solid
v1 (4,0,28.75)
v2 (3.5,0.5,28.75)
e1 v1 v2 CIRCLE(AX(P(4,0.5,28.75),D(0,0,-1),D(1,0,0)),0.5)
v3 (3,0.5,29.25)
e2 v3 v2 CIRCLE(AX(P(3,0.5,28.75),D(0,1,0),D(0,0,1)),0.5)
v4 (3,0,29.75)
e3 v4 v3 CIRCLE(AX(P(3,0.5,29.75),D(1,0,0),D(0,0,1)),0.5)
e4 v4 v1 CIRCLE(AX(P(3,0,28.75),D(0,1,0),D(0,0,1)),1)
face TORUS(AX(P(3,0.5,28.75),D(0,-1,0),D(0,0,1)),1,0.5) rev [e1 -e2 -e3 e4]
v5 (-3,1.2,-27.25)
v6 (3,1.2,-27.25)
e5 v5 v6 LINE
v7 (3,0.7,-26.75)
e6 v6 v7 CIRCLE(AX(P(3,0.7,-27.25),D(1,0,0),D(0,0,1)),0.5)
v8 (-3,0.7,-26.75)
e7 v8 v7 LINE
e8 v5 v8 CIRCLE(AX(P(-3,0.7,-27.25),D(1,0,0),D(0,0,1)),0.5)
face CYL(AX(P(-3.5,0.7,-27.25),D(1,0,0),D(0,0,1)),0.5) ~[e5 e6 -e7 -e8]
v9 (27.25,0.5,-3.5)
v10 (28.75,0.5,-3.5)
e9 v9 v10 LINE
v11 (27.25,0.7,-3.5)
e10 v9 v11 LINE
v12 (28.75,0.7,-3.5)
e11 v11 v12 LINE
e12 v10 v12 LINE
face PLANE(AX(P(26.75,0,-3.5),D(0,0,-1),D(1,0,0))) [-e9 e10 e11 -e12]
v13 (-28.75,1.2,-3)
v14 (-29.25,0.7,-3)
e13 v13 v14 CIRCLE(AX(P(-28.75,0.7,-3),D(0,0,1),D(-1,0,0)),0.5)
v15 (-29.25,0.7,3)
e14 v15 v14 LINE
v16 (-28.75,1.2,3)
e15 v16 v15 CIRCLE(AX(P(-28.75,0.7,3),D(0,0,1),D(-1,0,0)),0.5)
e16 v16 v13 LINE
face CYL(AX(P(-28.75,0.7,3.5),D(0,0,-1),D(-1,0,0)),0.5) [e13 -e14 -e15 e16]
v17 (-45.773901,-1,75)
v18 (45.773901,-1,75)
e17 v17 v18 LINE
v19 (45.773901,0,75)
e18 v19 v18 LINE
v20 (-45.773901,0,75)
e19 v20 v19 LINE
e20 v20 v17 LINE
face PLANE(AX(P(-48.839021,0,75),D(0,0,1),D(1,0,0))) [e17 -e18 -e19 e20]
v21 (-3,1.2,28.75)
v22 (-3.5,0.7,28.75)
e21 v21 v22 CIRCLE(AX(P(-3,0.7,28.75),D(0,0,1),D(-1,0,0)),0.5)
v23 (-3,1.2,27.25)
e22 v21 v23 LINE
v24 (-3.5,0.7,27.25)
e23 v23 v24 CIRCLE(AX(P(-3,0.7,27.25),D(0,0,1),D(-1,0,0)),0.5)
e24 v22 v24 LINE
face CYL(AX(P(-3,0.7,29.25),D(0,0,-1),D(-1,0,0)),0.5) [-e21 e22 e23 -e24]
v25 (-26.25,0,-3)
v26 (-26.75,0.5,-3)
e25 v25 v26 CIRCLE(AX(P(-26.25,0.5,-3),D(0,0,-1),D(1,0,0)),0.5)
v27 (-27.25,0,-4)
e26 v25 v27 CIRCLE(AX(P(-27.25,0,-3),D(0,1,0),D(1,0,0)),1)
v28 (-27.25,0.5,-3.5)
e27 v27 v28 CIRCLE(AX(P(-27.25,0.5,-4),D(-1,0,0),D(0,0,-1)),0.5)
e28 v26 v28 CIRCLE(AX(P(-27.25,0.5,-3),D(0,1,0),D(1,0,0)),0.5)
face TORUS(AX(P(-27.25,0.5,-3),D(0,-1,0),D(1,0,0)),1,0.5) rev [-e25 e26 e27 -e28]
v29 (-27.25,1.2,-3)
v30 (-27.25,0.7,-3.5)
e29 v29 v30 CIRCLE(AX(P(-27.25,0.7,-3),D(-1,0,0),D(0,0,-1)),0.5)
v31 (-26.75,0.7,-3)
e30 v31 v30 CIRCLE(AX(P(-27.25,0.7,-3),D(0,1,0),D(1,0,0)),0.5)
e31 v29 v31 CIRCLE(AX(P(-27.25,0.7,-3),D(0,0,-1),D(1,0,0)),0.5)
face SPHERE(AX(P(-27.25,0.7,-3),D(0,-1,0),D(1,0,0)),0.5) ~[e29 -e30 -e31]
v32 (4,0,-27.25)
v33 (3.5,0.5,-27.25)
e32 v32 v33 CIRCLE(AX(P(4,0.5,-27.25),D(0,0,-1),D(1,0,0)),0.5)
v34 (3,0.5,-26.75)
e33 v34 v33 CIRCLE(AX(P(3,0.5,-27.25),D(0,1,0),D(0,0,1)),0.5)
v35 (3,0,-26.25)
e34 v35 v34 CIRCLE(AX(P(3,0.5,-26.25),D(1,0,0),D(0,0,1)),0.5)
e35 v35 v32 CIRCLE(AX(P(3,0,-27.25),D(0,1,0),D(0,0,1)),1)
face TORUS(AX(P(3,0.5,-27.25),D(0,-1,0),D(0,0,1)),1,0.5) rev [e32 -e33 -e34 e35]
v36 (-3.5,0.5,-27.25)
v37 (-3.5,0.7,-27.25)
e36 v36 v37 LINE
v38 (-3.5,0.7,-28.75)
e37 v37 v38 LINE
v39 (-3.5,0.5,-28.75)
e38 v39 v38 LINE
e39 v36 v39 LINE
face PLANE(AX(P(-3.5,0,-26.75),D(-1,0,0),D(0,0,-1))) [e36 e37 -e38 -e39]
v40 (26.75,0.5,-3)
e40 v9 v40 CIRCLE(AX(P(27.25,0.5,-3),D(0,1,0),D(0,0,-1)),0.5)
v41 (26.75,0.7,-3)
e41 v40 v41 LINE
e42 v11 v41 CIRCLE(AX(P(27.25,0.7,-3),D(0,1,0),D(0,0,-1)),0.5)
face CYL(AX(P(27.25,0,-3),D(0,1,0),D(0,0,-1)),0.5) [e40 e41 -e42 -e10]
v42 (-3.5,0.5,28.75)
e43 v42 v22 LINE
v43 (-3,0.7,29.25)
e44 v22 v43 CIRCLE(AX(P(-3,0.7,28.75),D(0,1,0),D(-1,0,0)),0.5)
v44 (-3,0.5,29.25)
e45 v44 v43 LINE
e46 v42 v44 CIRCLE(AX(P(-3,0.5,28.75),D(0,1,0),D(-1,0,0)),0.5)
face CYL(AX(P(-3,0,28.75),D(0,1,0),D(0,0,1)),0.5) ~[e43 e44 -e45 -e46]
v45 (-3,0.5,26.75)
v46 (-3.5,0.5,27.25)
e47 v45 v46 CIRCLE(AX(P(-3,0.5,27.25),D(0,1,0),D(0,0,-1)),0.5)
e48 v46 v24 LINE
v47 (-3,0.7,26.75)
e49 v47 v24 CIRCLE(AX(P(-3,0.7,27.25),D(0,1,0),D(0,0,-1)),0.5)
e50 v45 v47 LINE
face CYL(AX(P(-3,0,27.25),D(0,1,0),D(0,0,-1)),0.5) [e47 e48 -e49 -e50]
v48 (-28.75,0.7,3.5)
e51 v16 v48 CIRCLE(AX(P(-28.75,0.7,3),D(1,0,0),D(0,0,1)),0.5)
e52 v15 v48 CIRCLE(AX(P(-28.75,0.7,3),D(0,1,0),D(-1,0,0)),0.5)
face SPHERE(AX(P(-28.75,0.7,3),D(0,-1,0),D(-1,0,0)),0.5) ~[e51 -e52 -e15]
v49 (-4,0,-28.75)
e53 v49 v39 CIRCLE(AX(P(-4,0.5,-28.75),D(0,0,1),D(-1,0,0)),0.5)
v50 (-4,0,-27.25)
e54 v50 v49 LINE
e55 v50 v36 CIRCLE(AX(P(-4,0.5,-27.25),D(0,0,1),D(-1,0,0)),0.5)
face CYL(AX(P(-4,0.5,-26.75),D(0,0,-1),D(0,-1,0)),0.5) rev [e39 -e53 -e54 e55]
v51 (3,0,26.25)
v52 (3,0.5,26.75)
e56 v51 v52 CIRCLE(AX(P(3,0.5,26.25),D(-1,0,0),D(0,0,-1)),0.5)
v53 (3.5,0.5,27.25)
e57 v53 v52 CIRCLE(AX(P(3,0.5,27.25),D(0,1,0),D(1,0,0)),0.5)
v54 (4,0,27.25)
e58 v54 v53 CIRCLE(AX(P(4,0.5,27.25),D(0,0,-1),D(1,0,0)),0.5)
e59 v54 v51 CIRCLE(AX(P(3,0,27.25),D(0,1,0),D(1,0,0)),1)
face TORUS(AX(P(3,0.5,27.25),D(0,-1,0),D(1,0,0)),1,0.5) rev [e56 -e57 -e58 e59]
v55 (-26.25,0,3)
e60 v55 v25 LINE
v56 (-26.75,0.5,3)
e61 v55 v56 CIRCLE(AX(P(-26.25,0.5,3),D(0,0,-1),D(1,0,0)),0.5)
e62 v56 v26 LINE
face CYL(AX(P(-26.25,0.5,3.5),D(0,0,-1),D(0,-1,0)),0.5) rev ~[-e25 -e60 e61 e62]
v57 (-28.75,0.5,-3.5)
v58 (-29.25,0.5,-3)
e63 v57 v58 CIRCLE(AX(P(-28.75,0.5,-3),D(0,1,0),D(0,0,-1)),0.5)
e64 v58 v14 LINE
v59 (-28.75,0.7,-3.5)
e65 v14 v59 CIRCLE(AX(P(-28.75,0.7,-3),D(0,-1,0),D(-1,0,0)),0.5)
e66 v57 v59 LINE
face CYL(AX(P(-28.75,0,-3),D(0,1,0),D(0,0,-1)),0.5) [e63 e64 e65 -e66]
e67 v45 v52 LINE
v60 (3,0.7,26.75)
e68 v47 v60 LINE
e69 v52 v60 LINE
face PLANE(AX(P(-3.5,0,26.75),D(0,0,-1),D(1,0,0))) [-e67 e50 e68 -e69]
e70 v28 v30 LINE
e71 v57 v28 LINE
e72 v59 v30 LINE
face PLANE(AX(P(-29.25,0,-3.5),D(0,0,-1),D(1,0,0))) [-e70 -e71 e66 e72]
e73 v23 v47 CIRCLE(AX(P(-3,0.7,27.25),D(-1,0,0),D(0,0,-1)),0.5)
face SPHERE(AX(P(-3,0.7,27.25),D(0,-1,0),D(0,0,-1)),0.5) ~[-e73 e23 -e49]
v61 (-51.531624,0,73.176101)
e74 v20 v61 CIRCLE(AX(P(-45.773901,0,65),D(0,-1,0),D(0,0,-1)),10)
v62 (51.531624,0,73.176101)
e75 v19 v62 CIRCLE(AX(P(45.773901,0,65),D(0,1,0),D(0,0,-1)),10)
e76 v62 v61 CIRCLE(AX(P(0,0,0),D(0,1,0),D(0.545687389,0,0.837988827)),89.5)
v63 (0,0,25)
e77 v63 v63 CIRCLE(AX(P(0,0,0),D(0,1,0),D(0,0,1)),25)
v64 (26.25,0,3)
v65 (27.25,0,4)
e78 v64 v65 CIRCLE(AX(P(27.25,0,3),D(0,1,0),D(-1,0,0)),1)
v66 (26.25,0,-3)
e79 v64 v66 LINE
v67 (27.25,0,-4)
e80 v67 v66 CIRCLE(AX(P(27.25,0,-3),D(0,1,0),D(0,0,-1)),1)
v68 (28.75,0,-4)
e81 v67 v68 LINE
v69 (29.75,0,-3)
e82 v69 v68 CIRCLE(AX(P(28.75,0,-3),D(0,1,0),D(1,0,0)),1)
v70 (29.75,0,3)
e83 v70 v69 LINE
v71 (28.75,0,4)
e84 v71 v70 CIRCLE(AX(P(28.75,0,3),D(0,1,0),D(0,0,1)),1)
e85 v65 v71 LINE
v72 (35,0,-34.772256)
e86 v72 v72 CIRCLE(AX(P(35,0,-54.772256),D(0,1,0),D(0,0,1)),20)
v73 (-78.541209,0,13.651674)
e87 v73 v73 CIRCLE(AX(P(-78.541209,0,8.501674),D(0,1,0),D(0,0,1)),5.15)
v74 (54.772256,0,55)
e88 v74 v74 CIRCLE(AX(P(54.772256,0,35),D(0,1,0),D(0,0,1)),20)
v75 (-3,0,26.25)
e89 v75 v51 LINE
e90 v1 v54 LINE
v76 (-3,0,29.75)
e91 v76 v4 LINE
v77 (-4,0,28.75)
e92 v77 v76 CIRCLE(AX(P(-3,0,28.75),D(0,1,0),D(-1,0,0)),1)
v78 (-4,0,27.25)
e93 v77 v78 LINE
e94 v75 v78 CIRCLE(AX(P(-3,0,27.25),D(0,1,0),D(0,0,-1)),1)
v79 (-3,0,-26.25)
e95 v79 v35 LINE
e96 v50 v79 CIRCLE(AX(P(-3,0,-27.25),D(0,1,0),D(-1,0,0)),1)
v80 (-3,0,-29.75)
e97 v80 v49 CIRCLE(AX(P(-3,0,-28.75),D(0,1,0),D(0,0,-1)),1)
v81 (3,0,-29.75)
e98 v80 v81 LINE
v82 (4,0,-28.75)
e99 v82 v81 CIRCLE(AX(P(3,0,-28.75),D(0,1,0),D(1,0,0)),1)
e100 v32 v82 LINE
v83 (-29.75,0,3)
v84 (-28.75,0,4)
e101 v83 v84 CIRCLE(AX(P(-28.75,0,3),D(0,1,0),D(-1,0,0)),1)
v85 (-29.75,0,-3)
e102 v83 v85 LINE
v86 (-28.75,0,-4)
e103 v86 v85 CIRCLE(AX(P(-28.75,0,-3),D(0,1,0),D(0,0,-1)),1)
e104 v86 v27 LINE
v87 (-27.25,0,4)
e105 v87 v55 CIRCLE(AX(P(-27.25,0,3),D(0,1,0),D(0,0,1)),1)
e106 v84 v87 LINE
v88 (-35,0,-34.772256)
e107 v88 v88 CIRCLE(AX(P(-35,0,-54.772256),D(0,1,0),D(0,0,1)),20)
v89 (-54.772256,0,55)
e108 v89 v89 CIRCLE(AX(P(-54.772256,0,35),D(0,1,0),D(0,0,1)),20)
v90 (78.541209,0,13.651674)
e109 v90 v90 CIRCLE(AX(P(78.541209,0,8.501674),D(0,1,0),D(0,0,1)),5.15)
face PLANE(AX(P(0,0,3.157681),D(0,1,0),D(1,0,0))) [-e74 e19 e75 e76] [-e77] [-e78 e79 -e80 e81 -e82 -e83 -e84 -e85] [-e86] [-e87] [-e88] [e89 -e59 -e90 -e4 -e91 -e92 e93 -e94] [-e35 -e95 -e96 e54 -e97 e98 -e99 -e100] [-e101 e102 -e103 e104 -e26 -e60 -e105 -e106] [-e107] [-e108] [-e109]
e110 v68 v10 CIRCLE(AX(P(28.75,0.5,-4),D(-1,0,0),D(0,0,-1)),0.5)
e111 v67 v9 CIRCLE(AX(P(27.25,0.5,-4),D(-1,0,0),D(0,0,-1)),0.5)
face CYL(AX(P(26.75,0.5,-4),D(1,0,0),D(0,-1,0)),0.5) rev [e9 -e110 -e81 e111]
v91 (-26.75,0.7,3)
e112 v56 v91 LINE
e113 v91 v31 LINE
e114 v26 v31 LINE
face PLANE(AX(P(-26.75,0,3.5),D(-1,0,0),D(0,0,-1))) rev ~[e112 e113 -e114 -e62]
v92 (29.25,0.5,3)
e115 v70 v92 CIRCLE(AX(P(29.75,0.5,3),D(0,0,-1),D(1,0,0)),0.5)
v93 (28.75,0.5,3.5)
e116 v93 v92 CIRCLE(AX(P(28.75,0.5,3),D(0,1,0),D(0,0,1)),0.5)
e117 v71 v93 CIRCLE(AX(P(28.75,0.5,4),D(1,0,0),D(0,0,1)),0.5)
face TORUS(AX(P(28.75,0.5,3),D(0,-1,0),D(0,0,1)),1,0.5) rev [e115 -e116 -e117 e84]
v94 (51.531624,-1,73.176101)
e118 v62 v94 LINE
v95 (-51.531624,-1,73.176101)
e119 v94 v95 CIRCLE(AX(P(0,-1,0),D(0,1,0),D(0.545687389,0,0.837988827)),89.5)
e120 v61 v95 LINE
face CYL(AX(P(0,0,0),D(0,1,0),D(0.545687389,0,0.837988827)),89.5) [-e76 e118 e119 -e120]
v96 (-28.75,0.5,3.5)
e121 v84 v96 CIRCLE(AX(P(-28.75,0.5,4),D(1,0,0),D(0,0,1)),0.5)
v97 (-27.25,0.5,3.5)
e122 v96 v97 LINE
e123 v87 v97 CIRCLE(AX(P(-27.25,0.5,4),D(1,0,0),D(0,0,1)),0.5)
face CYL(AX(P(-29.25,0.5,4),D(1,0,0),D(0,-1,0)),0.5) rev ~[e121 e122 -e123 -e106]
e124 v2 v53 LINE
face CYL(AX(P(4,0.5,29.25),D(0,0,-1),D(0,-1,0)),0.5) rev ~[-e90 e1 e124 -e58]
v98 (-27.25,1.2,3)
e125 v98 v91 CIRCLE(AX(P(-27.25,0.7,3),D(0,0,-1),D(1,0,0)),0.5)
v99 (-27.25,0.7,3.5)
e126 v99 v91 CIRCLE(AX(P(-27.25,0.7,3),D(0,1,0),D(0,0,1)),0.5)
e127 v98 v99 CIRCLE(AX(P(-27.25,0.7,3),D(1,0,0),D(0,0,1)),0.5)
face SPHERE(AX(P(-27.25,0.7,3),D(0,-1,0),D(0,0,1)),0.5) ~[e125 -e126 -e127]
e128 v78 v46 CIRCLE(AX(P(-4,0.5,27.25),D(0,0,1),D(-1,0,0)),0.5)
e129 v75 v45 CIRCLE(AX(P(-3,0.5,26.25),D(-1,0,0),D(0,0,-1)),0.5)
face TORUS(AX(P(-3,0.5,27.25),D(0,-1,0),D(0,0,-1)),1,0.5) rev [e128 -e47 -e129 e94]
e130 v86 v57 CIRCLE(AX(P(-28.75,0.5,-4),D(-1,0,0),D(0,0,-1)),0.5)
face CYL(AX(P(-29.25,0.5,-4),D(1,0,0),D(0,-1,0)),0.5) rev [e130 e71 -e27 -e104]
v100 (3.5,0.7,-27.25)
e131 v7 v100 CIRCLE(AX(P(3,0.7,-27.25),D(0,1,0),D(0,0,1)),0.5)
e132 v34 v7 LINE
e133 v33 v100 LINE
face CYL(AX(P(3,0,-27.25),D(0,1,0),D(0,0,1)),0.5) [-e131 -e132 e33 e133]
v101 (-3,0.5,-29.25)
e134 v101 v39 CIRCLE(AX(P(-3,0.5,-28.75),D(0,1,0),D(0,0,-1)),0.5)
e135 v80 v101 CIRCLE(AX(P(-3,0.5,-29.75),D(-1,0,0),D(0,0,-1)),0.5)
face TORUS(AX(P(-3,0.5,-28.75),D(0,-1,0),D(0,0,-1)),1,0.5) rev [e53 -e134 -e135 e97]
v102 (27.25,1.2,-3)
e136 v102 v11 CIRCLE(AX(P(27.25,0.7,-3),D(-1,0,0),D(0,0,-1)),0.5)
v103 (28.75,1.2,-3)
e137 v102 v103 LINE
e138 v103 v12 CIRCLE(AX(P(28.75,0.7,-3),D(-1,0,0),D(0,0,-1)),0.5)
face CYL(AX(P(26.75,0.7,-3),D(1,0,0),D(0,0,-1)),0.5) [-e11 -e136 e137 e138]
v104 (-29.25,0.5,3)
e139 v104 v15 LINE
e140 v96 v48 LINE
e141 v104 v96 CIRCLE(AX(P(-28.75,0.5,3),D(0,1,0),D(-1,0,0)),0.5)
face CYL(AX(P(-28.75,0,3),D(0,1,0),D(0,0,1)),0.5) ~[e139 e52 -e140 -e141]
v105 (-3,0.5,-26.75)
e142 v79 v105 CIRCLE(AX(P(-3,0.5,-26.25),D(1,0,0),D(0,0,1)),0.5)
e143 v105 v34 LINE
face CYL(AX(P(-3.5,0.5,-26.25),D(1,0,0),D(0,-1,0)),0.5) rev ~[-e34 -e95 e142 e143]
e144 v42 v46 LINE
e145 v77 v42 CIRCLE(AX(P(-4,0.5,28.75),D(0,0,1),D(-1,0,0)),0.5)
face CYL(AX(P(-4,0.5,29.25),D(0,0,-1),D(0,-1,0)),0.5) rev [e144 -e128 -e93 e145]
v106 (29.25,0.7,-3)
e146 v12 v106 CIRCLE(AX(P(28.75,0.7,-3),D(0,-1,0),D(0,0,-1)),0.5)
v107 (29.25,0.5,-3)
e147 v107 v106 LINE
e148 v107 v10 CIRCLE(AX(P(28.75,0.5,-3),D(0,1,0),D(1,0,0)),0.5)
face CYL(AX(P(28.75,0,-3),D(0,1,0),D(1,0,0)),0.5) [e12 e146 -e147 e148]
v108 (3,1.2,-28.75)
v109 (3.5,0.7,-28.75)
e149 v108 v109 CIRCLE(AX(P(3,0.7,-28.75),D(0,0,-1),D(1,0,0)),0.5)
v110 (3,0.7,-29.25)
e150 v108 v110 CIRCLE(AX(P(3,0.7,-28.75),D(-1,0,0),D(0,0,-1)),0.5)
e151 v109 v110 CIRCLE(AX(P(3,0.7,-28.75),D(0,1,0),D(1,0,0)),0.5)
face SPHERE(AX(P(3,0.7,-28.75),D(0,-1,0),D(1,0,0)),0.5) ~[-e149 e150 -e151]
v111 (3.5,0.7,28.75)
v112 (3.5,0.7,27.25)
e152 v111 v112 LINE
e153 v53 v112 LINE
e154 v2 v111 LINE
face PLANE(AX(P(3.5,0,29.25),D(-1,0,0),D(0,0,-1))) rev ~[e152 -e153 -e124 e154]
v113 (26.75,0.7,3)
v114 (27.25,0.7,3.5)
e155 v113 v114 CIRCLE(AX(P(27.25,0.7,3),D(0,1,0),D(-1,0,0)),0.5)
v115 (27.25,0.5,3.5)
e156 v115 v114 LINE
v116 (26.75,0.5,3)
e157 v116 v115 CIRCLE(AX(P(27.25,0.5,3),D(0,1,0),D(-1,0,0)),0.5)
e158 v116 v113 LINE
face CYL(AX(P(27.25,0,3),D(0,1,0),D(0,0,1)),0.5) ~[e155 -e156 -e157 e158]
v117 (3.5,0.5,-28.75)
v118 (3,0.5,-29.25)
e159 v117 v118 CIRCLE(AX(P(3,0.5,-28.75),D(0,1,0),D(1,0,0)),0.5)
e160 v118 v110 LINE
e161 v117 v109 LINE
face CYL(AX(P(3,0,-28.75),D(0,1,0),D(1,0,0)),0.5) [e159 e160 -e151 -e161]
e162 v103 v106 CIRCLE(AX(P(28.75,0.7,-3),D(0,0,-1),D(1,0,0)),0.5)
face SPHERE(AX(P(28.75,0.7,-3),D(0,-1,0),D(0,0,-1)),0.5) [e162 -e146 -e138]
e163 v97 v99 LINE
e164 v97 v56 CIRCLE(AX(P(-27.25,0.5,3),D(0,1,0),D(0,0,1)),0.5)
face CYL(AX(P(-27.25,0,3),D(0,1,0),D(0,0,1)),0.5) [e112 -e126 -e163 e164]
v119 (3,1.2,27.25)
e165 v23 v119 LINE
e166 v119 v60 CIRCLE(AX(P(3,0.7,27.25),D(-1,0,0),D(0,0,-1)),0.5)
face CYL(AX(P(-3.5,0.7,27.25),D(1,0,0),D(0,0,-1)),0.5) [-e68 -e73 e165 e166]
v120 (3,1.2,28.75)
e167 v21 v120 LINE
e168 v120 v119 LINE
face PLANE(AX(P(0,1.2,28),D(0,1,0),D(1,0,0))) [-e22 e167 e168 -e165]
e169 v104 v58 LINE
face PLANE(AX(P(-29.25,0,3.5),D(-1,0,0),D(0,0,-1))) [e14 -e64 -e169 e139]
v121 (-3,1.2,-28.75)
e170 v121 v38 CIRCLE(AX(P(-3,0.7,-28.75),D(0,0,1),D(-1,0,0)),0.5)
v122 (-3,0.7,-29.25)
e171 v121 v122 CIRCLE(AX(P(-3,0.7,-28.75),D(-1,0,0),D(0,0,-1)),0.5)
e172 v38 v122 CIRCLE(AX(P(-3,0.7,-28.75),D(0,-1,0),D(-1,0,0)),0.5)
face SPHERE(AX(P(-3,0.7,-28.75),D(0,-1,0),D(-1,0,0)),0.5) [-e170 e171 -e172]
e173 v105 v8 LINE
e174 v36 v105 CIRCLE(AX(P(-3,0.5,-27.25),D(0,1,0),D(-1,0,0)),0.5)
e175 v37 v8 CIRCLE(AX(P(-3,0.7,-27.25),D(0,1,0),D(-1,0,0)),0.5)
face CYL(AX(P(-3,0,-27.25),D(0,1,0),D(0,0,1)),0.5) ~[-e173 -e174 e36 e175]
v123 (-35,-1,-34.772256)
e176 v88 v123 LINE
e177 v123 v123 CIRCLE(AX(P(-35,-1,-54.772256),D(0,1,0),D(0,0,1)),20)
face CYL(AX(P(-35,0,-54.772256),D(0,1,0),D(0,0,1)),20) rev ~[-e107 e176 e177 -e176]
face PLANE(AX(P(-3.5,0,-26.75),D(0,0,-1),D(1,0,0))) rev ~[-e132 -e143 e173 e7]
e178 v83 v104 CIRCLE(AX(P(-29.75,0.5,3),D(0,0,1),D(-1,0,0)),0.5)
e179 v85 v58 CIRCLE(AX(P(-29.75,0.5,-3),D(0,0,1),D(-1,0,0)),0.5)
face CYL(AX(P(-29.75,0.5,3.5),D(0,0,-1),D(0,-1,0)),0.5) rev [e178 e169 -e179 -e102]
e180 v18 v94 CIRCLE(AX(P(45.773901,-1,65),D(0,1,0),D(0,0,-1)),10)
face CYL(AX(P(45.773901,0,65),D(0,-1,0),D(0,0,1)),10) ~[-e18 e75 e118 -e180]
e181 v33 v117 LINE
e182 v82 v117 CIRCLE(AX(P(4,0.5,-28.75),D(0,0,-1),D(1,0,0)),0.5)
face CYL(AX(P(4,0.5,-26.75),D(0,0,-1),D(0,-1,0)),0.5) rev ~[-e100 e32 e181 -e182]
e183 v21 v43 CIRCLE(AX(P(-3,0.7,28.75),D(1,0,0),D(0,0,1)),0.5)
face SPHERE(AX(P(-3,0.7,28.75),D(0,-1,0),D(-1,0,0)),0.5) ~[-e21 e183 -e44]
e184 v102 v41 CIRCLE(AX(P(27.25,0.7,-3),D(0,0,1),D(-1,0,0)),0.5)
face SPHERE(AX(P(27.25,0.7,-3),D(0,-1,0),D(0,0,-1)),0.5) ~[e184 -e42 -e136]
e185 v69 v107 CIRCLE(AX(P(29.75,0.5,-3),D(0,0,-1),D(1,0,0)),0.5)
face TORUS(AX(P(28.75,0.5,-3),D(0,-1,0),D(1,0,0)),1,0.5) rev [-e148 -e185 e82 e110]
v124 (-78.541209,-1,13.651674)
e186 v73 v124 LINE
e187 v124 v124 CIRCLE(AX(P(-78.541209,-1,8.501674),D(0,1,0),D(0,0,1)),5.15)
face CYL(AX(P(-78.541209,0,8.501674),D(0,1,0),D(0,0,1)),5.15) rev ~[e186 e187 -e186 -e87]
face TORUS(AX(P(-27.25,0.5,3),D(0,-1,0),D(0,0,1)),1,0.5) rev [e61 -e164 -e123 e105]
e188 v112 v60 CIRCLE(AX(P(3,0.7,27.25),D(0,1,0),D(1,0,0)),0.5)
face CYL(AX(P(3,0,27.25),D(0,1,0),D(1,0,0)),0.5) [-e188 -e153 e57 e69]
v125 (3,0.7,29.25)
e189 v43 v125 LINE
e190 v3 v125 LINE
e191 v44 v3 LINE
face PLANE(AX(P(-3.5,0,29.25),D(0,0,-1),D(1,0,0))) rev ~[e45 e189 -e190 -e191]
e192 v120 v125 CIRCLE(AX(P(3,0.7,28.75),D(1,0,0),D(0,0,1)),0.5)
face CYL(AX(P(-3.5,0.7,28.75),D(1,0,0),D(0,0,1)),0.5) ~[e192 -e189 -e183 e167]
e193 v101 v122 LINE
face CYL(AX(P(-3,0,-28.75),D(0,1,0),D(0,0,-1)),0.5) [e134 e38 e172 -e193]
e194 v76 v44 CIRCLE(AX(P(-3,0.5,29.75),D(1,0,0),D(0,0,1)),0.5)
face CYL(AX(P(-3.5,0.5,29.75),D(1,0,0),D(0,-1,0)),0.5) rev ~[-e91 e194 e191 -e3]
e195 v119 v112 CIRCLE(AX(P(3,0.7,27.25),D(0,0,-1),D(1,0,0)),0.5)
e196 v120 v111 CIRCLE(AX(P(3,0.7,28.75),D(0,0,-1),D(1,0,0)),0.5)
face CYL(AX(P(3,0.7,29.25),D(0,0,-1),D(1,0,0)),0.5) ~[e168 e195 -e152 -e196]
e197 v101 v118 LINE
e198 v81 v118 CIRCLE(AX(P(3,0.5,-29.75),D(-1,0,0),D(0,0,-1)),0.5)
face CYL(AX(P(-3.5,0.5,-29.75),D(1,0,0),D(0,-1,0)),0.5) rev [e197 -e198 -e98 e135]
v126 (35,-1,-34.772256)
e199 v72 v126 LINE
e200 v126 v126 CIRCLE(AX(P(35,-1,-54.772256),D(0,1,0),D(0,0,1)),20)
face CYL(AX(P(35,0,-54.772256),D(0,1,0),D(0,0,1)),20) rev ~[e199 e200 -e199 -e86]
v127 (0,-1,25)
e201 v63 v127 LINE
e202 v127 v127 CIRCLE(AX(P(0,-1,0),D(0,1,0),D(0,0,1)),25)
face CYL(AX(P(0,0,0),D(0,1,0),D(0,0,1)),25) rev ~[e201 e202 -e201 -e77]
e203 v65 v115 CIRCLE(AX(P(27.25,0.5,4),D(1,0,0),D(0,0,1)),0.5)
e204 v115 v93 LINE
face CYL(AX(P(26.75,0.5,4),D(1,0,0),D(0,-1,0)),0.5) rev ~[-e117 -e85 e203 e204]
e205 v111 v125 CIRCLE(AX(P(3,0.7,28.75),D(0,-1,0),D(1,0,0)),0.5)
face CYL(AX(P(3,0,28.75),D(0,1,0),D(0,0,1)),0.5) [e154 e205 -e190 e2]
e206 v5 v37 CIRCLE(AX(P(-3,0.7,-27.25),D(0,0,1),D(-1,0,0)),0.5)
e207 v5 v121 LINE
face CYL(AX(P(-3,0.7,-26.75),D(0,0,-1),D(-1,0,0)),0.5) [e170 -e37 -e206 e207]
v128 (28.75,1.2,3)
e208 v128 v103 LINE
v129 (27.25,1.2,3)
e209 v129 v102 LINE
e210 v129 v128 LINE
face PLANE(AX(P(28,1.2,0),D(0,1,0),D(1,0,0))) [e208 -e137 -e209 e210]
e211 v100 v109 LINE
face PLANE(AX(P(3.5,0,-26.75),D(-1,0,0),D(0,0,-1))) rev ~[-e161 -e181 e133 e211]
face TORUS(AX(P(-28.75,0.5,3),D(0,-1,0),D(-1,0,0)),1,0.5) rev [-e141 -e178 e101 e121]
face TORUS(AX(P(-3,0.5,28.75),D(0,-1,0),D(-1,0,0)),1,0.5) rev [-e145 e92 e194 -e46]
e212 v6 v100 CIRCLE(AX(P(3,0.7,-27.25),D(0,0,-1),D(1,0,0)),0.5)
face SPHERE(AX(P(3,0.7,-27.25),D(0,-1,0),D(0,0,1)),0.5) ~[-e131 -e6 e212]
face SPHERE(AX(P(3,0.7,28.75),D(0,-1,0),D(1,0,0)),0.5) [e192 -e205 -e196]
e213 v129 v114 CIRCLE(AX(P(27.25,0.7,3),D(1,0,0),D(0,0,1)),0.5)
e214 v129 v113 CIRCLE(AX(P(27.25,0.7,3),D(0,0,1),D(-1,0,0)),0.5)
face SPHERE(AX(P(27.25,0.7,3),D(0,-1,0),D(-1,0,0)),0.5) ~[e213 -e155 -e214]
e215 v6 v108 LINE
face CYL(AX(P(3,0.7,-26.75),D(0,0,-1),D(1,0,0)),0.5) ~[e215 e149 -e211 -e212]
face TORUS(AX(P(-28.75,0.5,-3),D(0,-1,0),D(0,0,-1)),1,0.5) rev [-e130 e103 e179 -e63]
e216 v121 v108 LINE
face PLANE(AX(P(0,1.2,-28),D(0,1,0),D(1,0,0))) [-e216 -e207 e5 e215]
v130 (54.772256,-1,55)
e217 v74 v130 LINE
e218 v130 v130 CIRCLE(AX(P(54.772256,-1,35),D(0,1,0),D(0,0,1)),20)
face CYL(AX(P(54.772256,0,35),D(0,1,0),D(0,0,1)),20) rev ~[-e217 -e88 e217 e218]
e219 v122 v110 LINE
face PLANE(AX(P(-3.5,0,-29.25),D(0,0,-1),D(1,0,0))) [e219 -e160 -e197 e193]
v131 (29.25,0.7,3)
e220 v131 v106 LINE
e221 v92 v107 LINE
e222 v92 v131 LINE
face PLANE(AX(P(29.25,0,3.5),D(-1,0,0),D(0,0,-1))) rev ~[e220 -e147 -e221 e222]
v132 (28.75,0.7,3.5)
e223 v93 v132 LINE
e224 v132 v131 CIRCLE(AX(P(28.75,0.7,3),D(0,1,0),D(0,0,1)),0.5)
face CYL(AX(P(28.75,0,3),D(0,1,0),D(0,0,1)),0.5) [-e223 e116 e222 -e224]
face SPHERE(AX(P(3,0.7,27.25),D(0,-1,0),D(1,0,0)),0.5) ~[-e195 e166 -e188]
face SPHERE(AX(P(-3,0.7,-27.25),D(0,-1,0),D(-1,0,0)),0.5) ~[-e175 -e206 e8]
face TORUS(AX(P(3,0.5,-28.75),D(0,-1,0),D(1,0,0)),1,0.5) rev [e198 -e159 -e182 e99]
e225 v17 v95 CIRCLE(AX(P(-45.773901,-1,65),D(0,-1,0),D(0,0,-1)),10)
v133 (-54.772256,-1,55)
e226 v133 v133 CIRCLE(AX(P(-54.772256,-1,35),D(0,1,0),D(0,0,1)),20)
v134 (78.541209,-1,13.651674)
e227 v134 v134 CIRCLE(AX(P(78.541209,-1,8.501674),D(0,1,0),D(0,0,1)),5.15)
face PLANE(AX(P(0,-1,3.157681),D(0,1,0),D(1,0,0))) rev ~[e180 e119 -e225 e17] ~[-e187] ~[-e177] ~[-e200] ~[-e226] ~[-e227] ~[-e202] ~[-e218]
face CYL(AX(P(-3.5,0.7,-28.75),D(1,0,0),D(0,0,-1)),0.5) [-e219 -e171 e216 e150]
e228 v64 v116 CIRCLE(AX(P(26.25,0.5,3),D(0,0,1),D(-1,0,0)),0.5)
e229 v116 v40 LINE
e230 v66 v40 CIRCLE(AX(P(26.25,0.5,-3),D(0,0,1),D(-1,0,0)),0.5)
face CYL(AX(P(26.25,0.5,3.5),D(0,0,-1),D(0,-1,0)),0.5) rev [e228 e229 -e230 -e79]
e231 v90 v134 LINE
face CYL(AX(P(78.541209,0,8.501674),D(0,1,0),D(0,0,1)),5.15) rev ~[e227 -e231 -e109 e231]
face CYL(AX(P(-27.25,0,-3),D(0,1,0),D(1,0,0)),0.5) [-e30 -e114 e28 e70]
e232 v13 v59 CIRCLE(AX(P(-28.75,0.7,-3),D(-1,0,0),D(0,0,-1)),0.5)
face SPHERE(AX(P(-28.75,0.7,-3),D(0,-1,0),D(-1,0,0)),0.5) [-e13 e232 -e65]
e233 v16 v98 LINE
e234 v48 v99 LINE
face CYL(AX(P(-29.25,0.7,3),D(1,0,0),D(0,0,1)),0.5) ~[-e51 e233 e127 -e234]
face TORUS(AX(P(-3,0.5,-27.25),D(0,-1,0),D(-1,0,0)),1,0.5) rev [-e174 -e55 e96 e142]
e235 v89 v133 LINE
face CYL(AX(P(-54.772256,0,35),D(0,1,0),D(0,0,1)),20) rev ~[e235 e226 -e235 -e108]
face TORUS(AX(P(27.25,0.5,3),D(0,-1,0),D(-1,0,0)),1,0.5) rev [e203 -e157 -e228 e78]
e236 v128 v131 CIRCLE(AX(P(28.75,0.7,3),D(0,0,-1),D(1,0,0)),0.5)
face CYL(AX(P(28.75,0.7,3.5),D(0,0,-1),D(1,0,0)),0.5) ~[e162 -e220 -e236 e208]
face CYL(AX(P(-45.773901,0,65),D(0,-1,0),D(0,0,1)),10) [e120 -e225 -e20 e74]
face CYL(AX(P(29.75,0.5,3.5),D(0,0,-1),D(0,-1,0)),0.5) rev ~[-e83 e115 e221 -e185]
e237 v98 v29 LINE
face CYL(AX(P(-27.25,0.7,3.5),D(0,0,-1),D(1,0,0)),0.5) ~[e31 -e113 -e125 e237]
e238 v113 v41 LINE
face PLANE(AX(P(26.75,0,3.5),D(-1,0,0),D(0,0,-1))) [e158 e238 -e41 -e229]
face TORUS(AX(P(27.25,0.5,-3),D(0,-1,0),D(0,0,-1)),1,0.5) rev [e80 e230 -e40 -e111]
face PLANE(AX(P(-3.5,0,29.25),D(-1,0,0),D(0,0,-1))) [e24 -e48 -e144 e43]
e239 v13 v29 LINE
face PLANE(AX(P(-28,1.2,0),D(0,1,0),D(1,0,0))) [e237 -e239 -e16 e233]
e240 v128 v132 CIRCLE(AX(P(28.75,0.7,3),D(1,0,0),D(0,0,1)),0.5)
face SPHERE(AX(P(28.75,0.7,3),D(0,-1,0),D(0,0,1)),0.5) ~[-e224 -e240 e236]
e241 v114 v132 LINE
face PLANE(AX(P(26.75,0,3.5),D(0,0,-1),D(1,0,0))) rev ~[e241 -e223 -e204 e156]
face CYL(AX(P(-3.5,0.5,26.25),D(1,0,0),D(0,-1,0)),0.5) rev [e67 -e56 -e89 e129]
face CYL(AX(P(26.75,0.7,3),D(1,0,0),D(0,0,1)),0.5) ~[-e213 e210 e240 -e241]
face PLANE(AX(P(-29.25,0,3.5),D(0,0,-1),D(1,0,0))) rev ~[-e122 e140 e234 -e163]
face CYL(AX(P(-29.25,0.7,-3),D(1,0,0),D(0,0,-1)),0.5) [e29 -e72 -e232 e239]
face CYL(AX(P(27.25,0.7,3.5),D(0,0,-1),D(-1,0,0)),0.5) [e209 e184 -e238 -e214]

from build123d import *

# Parameters (mm, degrees)
BOSS_EXTRUDE1_DEPTH = 1
SKETCH9_R           = 5.15
CUT_EXTRUDE3_DEPTH  = 127.576064088
VISION_PATTERN_R    = 25
VISION_PATTERN_R_2  = 20
CUT_EXTRUDE4_DEPTH  = 127.576064088
FILLET1_R           = 10
SKETCH10_W          = 7
SKETCH10_H          = 2.5
SKETCH10_W_2        = 2.5
SKETCH10_H_2        = 7
BOSS_EXTRUDE2_DEPTH = 1.2
FILLET2_R           = 0.5


with BuildPart() as part:
    # Sketch1 → Boss-Extrude1 (new body)
    with BuildSketch(Plane(origin=(0, 0, 0), x_dir=(1, 0, 0), z_dir=(0, 1, 0))):
        with BuildLine():
            Line((-48.839021284, -75), (48.839021284, -75))
            ThreePointArc((48.839021284, -75), (0, 89.5), (-48.839021284, -75))
        make_face()
    extrude(amount=-BOSS_EXTRUDE1_DEPTH)

    # Sketch9 → Cut-Extrude3 (cut, through all)
    with BuildSketch(Plane(origin=(0, 0, 0), x_dir=(1, 0, 0), z_dir=(0, 1, 0))):
        with Locations(Location((78.541209232, -8.501673503, 0), (0, 0, 270))):
            Circle(SKETCH9_R)
        with Locations(Location((-78.541209232, -8.501673503, 0), (0, 0, 270))):
            Circle(SKETCH9_R)
    extrude(amount=-CUT_EXTRUDE3_DEPTH, mode=Mode.SUBTRACT)

    # Vision Pattern → Cut-Extrude4 (cut, through all)
    with BuildSketch(Plane(origin=(0, 0, 0), x_dir=(1, 0, 0), z_dir=(0, 1, 0))):
        with Locations(Location((0, 0, 0), (0, 0, 270))):
            Circle(VISION_PATTERN_R)
        with Locations(Location((54.772255751, -35, 0), (0, 0, 270))):
            Circle(VISION_PATTERN_R_2)
        with Locations(Location((-54.772255751, -35, 0), (0, 0, 270))):
            Circle(VISION_PATTERN_R_2)
        with Locations(Location((35, 54.772255751, 0), (0, 0, 270))):
            Circle(VISION_PATTERN_R_2)
        with Locations(Location((-35, 54.772255751, 0), (0, 0, 270))):
            Circle(VISION_PATTERN_R_2)
    extrude(amount=-CUT_EXTRUDE4_DEPTH, mode=Mode.SUBTRACT)

    # Fillet1
    fillet1_edges = [part.edges().sort_by_distance(p)[0] for p in [
        (48.839021284, -0.5, 75),
        (-48.839021284, -0.5, 75),
    ]]
    fillet(fillet1_edges, radius=FILLET1_R)

    # Sketch10 → Boss-Extrude2 (add)
    with BuildSketch(Plane(origin=(0, 0, 0), x_dir=(1, 0, 0), z_dir=(0, 1, 0))):
        with Locations((0, 28)):
            Rectangle(SKETCH10_W, SKETCH10_H)
        with Locations((-28, 0)):
            Rectangle(SKETCH10_W_2, SKETCH10_H_2)
        with Locations((28, 0)):
            Rectangle(SKETCH10_W_2, SKETCH10_H_2)
        with Locations((0, -28)):
            Rectangle(SKETCH10_W, SKETCH10_H)
    extrude(amount=BOSS_EXTRUDE2_DEPTH)

    # Fillet2
    fillet2_edges = [part.edges().sort_by_distance(p)[0] for p in [
        (-29.25, 0, 0),
        (-29.25, 0.6, -3.5),
        (-28, 0, 3.5),
        (-29.25, 0.6, 3.5),
        (-26.75, 0, 0),
        (-26.75, 0.6, 3.5),
        (-28, 0, -3.5),
        (-26.75, 0.6, -3.5),
        (-29.25, 1.2, 0),
        (-28, 1.2, 3.5),
        (-26.75, 1.2, 0),
        (-28, 1.2, -3.5),
        (-3.5, 0, -28),
        (-3.5, 0.6, -29.25),
        (0, 0, -26.75),
        (-3.5, 0.6, -26.75),
        (3.5, 0, -28),
        (3.5, 0.6, -26.75),
        (0, 0, -29.25),
        (3.5, 0.6, -29.25),
        (-3.5, 1.2, -28),
        (0, 1.2, -26.75),
        (3.5, 1.2, -28),
        (0, 1.2, -29.25),
        (28, 0, -3.5),
        (29.25, 0.6, -3.5),
        (26.75, 0, 0),
        (26.75, 0.6, -3.5),
        (28, 0, 3.5),
        (26.75, 0.6, 3.5),
        (29.25, 0, 0),
        (29.25, 0.6, 3.5),
        (28, 1.2, -3.5),
        (26.75, 1.2, 0),
        (28, 1.2, 3.5),
        (29.25, 1.2, 0),
        (3.5, 0, 28),
        (3.5, 0.6, 29.25),
        (0, 0, 26.75),
        (3.5, 0.6, 26.75),
        (-3.5, 0, 28),
        (-3.5, 0.6, 26.75),
        (0, 0, 29.25),
        (-3.5, 0.6, 29.25),
        (3.5, 1.2, 28),
        (0, 1.2, 26.75),
        (-3.5, 1.2, 28),
        (0, 1.2, 29.25),
    ]]
    fillet(fillet2_edges, radius=FILLET2_R)


solid = part.part
